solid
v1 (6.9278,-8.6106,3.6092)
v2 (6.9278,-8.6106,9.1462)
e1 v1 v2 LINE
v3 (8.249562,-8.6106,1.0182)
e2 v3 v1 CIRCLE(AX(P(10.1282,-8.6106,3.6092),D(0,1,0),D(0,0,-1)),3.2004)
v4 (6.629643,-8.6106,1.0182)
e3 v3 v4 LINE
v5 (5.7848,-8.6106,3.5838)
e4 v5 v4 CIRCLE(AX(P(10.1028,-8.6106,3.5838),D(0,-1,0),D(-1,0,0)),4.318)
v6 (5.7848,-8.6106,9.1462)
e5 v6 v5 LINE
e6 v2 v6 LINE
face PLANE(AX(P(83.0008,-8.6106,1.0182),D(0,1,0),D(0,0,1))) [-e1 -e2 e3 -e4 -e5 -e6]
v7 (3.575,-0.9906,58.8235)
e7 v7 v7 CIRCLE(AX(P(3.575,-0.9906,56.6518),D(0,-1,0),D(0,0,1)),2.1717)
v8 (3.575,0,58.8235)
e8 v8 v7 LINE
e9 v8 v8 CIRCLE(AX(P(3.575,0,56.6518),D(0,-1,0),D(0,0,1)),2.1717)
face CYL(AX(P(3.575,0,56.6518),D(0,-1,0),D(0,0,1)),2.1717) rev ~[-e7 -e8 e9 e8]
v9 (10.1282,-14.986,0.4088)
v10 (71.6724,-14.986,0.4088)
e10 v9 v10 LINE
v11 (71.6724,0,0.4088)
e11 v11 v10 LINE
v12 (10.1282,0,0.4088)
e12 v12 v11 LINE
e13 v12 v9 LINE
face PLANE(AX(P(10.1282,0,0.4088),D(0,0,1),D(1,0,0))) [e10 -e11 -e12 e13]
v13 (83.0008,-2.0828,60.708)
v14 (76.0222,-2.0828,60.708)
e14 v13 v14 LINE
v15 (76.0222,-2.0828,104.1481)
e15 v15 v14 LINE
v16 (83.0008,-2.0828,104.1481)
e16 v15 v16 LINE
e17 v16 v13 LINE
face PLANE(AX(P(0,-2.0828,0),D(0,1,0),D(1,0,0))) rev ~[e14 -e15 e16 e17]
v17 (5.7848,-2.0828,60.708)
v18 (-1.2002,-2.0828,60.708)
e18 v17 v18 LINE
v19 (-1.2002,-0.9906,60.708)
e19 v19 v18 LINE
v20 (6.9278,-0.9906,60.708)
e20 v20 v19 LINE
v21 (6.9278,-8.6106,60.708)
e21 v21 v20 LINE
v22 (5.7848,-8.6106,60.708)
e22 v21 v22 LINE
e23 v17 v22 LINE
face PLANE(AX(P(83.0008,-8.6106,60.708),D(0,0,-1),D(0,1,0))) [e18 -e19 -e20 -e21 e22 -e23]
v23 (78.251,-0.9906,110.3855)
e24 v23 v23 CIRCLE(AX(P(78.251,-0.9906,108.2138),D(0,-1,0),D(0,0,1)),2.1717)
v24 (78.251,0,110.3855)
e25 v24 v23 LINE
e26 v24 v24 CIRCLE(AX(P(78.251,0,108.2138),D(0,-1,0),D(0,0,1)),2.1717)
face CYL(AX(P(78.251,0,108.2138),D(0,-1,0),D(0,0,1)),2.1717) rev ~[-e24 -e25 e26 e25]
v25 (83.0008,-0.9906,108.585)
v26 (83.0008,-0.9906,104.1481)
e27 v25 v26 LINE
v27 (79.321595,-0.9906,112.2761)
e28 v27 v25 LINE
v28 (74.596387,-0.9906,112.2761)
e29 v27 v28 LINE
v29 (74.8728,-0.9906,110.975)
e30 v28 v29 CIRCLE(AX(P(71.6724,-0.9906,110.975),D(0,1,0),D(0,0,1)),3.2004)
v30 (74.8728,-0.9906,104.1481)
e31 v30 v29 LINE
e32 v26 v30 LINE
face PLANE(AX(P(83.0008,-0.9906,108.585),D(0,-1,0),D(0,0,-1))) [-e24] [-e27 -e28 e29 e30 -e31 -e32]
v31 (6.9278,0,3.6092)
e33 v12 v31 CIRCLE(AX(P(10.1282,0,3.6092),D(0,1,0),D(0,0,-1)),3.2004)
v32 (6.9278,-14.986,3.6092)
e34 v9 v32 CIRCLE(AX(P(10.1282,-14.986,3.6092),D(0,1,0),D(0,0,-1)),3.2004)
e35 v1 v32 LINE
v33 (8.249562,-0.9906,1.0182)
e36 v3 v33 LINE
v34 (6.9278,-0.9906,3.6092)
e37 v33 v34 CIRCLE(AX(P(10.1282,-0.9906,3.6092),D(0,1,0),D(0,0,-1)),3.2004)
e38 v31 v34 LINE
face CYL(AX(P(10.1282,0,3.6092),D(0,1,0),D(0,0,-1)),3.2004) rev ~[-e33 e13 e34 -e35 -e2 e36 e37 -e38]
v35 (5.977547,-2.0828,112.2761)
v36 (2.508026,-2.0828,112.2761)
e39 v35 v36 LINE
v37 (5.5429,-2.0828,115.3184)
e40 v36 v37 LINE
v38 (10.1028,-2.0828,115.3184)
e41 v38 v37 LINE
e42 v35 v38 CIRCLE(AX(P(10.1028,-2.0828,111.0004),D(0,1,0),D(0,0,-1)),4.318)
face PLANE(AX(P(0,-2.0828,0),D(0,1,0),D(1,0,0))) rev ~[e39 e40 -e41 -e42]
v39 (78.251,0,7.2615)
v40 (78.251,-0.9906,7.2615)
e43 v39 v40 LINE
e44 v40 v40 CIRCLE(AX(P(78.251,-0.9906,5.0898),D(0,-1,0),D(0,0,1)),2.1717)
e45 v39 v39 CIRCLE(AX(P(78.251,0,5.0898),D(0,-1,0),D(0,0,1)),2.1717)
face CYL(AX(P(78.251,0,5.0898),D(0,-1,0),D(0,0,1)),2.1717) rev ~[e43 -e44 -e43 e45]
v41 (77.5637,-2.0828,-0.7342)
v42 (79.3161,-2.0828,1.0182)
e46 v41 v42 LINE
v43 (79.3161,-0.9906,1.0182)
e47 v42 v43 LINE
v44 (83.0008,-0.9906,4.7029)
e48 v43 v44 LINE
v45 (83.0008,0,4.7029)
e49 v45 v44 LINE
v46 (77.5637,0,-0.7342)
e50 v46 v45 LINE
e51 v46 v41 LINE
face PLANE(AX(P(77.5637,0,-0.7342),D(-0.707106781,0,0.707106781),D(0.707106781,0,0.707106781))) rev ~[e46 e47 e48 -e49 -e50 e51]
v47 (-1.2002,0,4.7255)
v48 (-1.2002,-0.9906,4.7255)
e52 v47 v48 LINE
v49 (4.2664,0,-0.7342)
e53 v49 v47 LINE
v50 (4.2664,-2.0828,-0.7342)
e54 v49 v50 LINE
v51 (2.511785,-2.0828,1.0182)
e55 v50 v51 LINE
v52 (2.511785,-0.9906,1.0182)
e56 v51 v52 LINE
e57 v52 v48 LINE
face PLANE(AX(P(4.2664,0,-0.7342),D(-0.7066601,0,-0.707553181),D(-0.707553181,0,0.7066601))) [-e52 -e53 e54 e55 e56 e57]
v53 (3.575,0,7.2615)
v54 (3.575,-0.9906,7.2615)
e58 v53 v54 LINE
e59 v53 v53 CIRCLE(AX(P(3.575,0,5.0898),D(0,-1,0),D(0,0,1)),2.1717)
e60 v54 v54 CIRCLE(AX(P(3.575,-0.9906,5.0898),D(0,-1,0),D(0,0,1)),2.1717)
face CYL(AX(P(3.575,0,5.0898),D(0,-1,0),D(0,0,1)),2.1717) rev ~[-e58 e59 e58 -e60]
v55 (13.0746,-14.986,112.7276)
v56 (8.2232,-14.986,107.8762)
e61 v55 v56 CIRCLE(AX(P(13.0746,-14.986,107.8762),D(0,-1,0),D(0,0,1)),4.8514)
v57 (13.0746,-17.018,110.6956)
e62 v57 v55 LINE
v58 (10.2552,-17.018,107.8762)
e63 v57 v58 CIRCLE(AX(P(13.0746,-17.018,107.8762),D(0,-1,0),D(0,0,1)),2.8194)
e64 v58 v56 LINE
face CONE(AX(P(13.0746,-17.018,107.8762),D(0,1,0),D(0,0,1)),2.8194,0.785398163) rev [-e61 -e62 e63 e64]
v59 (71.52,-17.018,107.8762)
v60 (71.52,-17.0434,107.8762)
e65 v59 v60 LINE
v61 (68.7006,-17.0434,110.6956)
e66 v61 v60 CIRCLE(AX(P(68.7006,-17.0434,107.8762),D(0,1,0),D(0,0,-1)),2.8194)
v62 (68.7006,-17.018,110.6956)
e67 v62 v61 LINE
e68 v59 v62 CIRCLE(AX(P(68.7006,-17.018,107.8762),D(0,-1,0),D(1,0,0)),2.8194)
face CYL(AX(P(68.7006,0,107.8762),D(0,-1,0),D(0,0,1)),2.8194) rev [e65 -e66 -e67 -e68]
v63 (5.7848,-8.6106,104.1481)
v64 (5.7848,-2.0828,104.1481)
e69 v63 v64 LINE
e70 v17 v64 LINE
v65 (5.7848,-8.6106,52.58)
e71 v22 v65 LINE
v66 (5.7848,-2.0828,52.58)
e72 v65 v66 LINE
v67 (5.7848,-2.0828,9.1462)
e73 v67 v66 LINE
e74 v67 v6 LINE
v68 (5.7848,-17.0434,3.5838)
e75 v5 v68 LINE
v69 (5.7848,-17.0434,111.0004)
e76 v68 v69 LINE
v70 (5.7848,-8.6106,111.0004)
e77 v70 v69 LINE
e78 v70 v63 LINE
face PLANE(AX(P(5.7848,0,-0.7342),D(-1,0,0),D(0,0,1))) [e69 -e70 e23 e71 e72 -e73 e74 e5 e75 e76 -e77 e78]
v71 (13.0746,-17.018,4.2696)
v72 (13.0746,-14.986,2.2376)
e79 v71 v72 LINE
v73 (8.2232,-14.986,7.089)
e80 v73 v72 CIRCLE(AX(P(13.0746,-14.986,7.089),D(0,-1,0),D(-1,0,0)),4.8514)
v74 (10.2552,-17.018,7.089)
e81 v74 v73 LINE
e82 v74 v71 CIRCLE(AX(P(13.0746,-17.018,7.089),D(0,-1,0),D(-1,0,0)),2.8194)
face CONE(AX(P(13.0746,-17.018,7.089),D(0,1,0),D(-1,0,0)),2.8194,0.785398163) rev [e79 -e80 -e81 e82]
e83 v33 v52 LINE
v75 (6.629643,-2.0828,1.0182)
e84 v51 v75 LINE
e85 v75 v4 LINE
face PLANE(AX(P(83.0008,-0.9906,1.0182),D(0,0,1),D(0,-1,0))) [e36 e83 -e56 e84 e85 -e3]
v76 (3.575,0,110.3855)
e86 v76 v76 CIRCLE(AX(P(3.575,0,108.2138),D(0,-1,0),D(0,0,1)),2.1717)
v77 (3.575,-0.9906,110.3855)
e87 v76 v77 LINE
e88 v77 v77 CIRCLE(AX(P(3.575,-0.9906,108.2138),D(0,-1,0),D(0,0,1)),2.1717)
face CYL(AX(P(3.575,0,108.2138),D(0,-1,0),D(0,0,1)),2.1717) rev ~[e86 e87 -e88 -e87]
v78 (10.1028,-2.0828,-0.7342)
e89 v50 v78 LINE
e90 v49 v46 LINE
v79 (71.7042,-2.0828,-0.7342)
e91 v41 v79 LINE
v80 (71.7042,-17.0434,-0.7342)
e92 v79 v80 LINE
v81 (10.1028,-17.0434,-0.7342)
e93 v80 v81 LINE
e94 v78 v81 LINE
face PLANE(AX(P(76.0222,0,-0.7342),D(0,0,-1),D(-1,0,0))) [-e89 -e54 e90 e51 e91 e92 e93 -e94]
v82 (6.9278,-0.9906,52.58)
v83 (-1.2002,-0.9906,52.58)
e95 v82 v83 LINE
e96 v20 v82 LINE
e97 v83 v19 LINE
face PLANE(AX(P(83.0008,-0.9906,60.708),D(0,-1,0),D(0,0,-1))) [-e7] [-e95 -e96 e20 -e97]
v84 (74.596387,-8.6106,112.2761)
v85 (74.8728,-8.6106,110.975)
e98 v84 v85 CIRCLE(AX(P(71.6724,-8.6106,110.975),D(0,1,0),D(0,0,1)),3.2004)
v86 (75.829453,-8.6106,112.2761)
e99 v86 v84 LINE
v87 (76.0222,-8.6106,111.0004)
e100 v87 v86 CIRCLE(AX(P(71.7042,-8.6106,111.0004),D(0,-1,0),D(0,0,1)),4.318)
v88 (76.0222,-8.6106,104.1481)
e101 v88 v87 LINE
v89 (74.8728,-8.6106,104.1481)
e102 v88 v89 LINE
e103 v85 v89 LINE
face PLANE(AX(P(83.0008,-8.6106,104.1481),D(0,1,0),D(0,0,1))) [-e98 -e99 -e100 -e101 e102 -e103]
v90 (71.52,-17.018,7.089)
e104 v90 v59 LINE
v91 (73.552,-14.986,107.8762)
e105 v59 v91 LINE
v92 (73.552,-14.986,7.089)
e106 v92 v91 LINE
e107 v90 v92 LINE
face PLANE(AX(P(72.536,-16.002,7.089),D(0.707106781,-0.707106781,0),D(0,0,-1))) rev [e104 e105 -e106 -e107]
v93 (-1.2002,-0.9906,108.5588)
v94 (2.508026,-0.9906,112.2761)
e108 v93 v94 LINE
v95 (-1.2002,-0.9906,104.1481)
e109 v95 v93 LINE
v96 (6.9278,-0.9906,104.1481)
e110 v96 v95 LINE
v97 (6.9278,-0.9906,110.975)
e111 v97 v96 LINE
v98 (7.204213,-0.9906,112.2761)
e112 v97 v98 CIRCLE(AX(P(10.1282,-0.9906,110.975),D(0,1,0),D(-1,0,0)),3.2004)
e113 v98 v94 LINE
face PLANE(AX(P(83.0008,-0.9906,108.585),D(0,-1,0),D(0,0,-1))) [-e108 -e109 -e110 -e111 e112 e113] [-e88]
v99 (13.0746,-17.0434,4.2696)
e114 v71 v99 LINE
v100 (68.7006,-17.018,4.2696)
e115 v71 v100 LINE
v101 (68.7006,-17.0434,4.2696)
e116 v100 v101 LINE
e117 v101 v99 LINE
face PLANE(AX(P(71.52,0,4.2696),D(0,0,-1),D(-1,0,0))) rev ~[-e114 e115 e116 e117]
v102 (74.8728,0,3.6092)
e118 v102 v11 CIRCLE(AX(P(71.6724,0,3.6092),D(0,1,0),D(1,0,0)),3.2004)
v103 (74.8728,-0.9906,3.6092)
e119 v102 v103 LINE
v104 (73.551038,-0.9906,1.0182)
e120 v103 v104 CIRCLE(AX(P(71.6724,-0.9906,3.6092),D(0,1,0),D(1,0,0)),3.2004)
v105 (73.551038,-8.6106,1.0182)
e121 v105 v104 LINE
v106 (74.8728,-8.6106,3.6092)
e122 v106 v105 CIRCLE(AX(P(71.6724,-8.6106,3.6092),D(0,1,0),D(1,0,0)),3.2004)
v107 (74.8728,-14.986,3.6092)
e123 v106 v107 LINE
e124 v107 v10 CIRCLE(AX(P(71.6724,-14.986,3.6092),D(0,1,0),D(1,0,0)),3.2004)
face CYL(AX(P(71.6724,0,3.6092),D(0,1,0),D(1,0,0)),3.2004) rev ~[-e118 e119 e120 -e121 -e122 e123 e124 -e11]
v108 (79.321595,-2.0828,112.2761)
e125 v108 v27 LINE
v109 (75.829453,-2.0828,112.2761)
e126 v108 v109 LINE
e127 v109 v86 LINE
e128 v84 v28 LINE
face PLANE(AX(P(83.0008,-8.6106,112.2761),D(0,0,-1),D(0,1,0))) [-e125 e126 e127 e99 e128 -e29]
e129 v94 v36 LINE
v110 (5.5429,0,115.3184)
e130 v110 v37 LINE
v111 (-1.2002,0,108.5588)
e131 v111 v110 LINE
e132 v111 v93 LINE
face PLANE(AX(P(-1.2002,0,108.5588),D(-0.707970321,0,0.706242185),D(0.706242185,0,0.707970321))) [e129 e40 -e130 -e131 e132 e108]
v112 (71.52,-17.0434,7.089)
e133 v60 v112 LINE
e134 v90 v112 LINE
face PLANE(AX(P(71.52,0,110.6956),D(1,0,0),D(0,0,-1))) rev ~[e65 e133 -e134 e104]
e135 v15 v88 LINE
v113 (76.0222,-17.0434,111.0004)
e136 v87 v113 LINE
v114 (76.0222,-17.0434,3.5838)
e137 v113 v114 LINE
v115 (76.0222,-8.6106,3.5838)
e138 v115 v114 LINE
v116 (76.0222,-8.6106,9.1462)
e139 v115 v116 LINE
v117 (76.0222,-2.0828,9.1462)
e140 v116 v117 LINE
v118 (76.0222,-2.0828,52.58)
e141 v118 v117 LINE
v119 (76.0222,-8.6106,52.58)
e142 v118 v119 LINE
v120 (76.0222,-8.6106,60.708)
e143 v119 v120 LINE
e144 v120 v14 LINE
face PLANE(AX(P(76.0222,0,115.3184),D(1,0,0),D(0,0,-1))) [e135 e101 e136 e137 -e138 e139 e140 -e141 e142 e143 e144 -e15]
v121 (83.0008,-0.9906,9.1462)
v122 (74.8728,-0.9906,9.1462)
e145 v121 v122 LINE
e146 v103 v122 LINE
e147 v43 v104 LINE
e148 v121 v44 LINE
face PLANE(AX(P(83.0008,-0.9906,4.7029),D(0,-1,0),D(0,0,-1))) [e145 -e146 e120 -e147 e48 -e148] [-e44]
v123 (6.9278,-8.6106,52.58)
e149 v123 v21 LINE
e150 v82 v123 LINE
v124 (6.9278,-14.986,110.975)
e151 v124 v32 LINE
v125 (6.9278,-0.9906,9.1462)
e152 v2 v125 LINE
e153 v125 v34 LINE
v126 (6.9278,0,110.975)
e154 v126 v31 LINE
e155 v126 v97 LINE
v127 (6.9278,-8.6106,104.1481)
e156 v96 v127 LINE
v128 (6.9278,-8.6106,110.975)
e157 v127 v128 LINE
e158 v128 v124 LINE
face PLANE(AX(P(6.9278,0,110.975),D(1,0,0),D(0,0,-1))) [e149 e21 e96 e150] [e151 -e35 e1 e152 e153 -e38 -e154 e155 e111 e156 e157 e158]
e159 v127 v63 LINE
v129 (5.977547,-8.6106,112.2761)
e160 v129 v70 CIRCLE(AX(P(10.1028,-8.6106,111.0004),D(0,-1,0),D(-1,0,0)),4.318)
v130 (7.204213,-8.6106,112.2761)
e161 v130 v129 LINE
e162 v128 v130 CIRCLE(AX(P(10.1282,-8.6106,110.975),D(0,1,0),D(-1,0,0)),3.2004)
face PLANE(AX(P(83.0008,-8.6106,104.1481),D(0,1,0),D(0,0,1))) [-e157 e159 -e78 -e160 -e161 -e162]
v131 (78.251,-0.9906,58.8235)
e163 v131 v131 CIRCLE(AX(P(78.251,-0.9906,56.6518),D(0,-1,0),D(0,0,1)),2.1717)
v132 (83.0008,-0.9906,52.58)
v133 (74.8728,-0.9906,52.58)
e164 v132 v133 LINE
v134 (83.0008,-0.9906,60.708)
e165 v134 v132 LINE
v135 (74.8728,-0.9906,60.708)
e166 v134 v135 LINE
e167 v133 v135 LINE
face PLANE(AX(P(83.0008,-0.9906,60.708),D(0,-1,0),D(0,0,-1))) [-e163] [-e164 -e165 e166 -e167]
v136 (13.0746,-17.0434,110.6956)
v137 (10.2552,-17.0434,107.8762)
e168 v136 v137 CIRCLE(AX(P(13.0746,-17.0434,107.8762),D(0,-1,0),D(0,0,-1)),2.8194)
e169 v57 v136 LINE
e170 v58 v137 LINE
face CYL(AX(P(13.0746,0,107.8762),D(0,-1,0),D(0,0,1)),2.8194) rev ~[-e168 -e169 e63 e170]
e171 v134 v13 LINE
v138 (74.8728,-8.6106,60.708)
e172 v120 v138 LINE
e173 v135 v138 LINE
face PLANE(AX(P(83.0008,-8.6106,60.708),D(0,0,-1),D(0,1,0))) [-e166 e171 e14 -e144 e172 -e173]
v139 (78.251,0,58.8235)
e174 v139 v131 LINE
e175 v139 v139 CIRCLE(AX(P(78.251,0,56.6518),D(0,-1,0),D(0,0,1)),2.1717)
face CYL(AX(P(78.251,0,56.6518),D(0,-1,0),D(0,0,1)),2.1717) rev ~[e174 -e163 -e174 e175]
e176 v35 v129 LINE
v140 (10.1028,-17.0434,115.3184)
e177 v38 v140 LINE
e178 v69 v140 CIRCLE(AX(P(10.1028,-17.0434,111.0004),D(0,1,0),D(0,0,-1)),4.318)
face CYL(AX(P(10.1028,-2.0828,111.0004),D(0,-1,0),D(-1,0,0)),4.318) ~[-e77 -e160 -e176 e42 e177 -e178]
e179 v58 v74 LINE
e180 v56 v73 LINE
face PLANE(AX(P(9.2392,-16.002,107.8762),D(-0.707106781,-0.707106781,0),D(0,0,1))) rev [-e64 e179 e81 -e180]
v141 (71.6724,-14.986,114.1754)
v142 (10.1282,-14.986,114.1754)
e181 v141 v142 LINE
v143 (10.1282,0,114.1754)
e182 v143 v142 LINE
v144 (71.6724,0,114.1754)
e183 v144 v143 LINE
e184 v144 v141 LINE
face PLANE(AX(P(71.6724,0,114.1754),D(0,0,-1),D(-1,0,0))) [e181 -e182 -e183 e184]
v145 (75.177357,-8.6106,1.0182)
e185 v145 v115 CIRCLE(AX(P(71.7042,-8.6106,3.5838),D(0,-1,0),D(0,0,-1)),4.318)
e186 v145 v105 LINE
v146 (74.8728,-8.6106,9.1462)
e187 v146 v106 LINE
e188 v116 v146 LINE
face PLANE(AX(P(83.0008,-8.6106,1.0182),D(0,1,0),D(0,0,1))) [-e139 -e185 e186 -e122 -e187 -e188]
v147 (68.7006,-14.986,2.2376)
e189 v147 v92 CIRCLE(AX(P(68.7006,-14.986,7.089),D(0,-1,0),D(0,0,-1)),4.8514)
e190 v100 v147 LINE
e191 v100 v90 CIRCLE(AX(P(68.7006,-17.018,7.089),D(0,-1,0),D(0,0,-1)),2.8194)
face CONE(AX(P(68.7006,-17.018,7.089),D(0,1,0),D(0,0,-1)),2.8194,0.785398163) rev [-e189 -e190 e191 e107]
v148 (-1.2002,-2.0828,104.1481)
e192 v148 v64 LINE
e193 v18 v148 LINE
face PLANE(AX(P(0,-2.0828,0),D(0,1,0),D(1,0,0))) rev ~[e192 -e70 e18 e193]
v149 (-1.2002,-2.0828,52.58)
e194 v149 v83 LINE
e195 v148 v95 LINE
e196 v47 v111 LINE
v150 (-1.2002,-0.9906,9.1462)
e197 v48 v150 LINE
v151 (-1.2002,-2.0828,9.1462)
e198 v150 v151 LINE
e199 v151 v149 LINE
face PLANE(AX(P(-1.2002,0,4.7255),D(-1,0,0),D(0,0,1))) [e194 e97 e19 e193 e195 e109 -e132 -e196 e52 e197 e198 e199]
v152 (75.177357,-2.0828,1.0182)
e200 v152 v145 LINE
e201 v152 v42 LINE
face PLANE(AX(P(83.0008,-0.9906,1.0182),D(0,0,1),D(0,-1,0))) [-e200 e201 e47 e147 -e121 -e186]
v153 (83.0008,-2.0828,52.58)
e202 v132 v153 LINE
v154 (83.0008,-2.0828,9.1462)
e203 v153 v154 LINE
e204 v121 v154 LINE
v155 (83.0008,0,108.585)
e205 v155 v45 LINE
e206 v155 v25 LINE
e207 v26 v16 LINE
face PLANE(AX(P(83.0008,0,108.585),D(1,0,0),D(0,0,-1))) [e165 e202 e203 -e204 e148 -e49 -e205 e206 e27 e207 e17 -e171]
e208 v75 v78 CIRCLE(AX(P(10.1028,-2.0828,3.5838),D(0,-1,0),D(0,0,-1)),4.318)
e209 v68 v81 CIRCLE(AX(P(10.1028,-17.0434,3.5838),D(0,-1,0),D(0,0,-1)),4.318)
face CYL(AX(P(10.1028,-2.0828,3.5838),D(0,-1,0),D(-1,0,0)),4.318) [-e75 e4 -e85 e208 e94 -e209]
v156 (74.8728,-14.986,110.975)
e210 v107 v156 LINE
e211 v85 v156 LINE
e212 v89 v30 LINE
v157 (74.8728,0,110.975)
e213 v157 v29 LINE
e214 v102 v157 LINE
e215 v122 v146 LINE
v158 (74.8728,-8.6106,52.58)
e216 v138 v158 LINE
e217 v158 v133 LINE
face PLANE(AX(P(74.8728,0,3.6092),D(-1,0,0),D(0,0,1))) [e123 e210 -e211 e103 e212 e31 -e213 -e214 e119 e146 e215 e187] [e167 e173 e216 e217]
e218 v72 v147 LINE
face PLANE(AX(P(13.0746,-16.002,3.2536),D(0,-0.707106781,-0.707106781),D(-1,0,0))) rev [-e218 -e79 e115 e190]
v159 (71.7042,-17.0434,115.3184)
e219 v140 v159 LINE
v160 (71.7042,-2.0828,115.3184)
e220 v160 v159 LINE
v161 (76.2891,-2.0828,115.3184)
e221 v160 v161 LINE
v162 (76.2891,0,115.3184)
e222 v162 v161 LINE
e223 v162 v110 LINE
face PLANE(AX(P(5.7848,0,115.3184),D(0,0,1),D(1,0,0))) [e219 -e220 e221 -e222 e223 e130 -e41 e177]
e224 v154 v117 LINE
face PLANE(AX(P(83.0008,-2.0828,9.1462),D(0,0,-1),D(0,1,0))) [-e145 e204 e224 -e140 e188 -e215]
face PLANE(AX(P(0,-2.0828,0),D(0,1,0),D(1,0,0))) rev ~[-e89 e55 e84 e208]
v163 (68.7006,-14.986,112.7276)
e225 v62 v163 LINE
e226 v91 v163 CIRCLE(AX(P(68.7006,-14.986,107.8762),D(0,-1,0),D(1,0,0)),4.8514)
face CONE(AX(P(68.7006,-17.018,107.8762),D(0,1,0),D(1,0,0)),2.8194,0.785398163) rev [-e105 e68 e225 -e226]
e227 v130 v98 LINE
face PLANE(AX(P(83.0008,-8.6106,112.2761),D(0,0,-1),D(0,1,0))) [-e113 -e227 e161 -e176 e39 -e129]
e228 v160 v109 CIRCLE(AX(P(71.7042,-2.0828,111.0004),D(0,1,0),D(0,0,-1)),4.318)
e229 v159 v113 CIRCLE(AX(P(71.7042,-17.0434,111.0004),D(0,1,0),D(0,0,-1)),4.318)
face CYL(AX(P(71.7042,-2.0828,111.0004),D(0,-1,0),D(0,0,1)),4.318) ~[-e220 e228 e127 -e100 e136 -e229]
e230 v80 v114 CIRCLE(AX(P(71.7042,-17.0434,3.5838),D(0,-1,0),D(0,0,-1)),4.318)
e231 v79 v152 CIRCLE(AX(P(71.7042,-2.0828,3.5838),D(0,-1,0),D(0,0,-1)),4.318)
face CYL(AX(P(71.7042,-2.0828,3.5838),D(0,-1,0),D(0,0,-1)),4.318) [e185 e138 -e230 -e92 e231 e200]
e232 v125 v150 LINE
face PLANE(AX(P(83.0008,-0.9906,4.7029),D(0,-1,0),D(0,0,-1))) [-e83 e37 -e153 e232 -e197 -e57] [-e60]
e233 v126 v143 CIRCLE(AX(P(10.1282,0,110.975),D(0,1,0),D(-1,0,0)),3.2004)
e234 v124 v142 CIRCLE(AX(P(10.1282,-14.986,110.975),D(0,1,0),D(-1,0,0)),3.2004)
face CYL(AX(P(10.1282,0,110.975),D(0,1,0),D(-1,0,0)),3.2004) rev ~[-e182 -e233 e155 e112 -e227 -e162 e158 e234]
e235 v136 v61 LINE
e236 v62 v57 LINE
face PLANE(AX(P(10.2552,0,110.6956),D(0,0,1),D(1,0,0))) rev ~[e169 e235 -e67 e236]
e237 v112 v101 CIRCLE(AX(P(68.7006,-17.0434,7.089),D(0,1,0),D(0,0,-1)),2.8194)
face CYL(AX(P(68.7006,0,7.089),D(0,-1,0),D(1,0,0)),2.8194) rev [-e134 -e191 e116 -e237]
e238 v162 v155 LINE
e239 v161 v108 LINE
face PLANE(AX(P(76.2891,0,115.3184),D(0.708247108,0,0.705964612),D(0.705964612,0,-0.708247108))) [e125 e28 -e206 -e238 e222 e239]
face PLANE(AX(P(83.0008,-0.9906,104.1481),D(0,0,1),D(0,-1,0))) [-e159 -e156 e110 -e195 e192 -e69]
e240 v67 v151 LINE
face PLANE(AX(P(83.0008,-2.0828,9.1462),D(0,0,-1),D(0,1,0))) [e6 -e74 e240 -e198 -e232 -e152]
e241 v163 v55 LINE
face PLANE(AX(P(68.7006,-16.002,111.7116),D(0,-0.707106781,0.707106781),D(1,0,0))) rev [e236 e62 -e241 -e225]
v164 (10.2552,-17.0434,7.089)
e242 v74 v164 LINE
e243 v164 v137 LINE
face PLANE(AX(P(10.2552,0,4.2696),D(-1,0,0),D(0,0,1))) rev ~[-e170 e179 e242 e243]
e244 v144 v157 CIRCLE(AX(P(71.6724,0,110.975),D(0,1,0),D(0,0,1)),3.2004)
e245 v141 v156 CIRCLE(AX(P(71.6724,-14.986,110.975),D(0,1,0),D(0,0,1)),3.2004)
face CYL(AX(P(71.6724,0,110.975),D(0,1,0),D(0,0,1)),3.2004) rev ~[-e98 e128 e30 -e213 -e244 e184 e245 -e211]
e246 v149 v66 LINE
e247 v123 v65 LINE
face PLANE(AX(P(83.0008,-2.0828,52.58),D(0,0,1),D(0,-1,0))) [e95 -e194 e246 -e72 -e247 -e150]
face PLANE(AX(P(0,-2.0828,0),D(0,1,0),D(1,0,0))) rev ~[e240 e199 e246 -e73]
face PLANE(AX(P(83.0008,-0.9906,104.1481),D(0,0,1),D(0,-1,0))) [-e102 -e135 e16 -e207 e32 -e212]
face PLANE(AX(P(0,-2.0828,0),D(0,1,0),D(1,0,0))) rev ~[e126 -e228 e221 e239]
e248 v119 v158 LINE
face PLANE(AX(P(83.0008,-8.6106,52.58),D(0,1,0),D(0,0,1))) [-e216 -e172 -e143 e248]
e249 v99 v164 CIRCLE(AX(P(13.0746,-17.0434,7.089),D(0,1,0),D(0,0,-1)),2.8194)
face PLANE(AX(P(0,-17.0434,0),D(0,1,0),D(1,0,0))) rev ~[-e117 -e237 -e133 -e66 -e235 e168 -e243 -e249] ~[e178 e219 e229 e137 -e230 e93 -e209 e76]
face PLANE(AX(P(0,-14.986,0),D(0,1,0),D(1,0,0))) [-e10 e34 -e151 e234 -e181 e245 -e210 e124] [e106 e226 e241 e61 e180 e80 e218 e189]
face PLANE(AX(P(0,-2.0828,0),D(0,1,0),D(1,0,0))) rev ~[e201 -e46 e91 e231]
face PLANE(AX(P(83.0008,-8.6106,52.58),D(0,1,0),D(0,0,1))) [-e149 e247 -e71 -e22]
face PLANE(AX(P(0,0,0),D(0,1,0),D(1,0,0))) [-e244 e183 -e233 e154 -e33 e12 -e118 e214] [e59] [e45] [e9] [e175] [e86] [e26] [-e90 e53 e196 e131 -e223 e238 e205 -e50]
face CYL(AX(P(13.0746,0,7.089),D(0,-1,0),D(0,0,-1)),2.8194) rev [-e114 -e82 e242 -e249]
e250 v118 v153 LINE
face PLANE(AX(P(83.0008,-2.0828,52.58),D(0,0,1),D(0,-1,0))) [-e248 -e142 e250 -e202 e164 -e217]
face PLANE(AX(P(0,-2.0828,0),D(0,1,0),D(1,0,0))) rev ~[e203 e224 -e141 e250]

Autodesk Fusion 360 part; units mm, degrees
sketch "Front" plane through (0, 0, 0) normal (0, 1, 0) x (1, 0, 0) in component "2004699A"
  line L0 (-34.4613, 0.7342) -> (100.7673, 0.7342) construction
  line L1 (-34.854, -115.3184) -> (120.0108, -115.3184) construction
  line L2 (39.1093, -14.9122) -> (120.6654, -14.9122) construction
  line L3 (3.575, 24.5274) -> (3.575, -141.9882) construction
  line L4 (78.251, 23.8729) -> (78.251, -119.9956) construction
  line L5 (-16.7886, -108.2138) -> (88.0691, -108.2138) construction
  line L6 (-18.2286, -5.0898) -> (85.3201, -5.0898) construction
  line L7 (-8.6723, -56.6518) -> (96.0546, -56.6518) construction
  line L8 (-24.3813, -113.9722) -> (90.4255, -113.9722) construction
  line L9 (-27.0881, -0.4088) -> (83.5136, -0.4088) construction
  line L10 (10.2552, -130.527) -> (10.2552, 10.1996) construction
  line L11 (71.52, -130.1852) -> (71.52, 12.6775) construction
  line L12 (5.7848, -130.0998) -> (5.7848, 6.3546) construction
  line L13 (83.0008, -137.1267) -> (83.0008, 10.6162) construction
  line L14 (-1.2002, -137.339) -> (-1.2002, 17.644) construction
  line L15 (110.5413, -110.6956) -> (5.7848, -110.6956) construction
  line L16 (110.1974, -4.2696) -> (-2.9547, -4.2696) construction
  line L17 (102.8889, -60.7158) -> (-8.8875, -60.7158) construction
  line L18 (102.459, -52.5878) -> (-11.4669, -52.5878) construction
  line L19 (40.913, -17.1802) -> (40.913, 17.1835) construction
  line L20 (69.6478, 8.6501) -> (89.4046, -11.1067) construction
  line L21 (-5.4342, -8.9542) -> (10.2552, 6.7154) construction
  line L22 (-6.1303, -103.6453) -> (12.6902, -122.4658) construction
  line L23 (73.7302, -117.8806) -> (90.3753, -101.2137) construction
  line L24 (-2.868, -104.1498) -> (87.443, -104.1498) construction
  line L25 (-3.4391, -112.2778) -> (87.0011, -112.2778) construction
  line L26 (-3.1536, -9.1538) -> (86.0732, -9.1538) construction
  line L27 (-3.3677, -1.0258) -> (85.288, -1.0258) construction
  line L28 (10.2552, -110.6956) -> (71.52, -110.6956)
  line L29 (71.52, -110.6956) -> (71.52, -4.2696)
  line L30 (71.52, -4.2696) -> (10.2552, -4.2696)
  line L31 (10.2552, -4.2696) -> (10.2552, -110.6956)
  line L32 (-1.2002, -115.3184) -> (83.0008, -115.3184)
  line L33 (83.0008, -115.3184) -> (83.0008, 0.7342)
  line L34 (83.0008, 0.7342) -> (-1.2002, 0.7342)
  line L35 (-1.2002, 0.7342) -> (-1.2002, -115.3184)
  line L36 (76.0158, -119.9569) -> (76.0158, 9.6762) construction
  line L37 (5.7848, -115.3184) -> (76.0222, -115.3184) construction
  line L38 (76.0222, -115.3184) -> (76.0222, 0.7342) construction
  line L39 (76.0222, 0.7342) -> (5.7848, 0.7342) construction
  line L40 (5.7848, 0.7342) -> (5.7848, -115.3184) construction
  line L41 (76.0222, 0.7342) -> (5.7848, 0.7342)
  line L42 (5.7848, 0.7342) -> (5.7848, -115.3184)
  line L43 (5.7848, -115.3184) -> (76.0222, -115.3184)
  line L44 (76.0222, -115.3184) -> (76.0222, 0.7342)
  line L45 (-1.2002, -108.5588) -> (5.5429, -115.3184)
  line L46 (76.2891, -115.3184) -> (83.0008, -108.585)
  line L47 (77.5637, 0.7342) -> (83.0008, -4.7029)
  line L48 (4.2664, 0.7342) -> (-1.2002, -4.7255)
  point P0 (3.575, -108.2138)
  point P1 (78.251, -108.2138)
  point P2 (78.251, -56.6518)
  point P3 (78.251, -5.0898)
  point P4 (3.575, -5.0898)
  point P5 (3.575, -56.6518)
  dimension "d1" = 1.143
  dimension "d2" = 116.0526
  dimension "d3" = 113.5634
  dimension "d4" = 103.124
  dimension "d5" = 51.562
  dimension "d6" = 74.676
  dimension "d7" = 2.2098
  dimension "d8" = 4.4704
  dimension "d9" = 61.2648
  dimension "d10" = 84.201
  dimension "d11" = 6.985
  dimension "d12" = 106.426
  dimension "d13" = 4.6228
  dimension "d14" = 100.4062
  dimension "d15" = 37.338
  dimension "d16" = 8.128
  dimension "d17" = 4.064
  dimension "d18" = 3.6322
  dimension "d19" = 3.6322
  dimension "d20" = 3.6322
  dimension "d21" = 3.6322
  dimension "d22" = 4.064
  dimension "d23" = 8.128
  dimension "d25" = 4.064
  dimension "d26" = 8.128
  dimension "d27" = 70.231
extrude "Extrude1" add sketch "Front" against normal blind 17.0434 contours L32 L34 L41 L42 L43 L44 in component "2004699A"
extrude "Extrude2" add sketch "Front" against normal blind 2.0828 contours L32 L34 L35 L42 L45 L48 | L32 L33 L34 L44 L46 L47 in component "2004699A"
fillet "Fillet1" radius 4.318 4 edges at (5.7848, -9.5631, -0.7342) (76.0222, -9.5631, -0.7342) (76.0222, -9.5631, 115.3184) (5.7848, -9.5631, 115.3184) in component "2004699A"
fillet "Fillet2" radius 2.8194 4 edges at (71.52, -8.5217, 110.6956) (10.2552, -8.5217, 110.6956) (71.52, -8.5217, 4.2696) (10.2552, -8.5217, 4.2696) in component "2004699A"
hole "Hole1" at (78.251, 0, 108.2138) at (78.251, 0, 56.6518) at (78.251, 0, 5.0898) at (3.575, 0, 5.0898) at (3.575, 0, 56.6518) at (3.575, 0, 108.2138) direction (0, -1, 0) diameter 4.3434 end through all in component "2004699A"
sketch "Sketch3" plane through (0, 0, 0) normal (0, 1, 0) x (1, 0, 0) in component "2004699A"
  line L0 (88.5571, -114.1754) -> (-29.017, -114.1754) construction
  line L1 (6.9278, -119.135) -> (6.9278, -3.6092) construction
  line L2 (74.8728, -110.975) -> (74.8728, 6.1599) construction
  line L3 (95.5329, -0.4088) -> (-26.782, -0.4088) construction
  line L4 (-34.4613, 0.7342) -> (100.7673, 0.7342) construction
  line L5 (5.7848, -130.0998) -> (5.7848, 6.3546) construction
  line L6 (-34.854, -115.3184) -> (120.0108, -115.3184) construction
  line L7 (76.0158, -119.9569) -> (76.0158, 9.6762) construction
  line L8 (71.6724, -114.1754) -> (10.1282, -114.1754)
  line L9 (6.9278, -110.975) -> (6.9278, -0.4088)
  line L10 (10.1282, -0.4088) -> (71.6724, -0.4088)
  line L11 (74.8728, -3.6092) -> (74.8728, -114.1754)
  arc A0 (74.8728, -3.6092) -> (71.6724, -0.4088) centre (71.6724, -3.6092) ccw
  arc A1 (10.1282, -0.4088) -> (6.9278, -3.6092) centre (10.1282, -3.6092) ccw
  arc A2 (71.6724, -114.1754) -> (74.8728, -110.975) centre (71.6724, -110.975) ccw
  arc A3 (6.9278, -110.975) -> (10.1282, -114.1754) centre (10.1282, -110.975) ccw
  dimension "d37" = 1.143
  dimension "d38" = 1.143
  dimension "d39" = 1.143
  dimension "d40" = 1.143
  dimension "d41" = 3.2004
  dimension "d42" = 3.2004
  dimension "d43" = 3.2004
  dimension "d44" = 3.2004
extrude "Extrude3" cut sketch "Sketch3" against normal blind 14.986 in component "2004699A"
chamfer "Chamfer1" distance 2.032 angle 45 8 edges at (40.8876, -14.986, 4.2696) (11.081, -14.986, 5.0954) (10.2552, -14.986, 57.4826) (11.081, -14.986, 109.8698) (40.8876, -14.986, 110.6956) (70.6942, -14.986, 109.8698) (71.52, -14.986, 57.4826) (70.6942, -14.986, 5.0954) in component "2004699A"
sketch "Sketch4" plane through (83.0008, 0, 0) normal (1, 0, 0) x (0, 1, 0) in component "2004699A"
  line L0 (0, 4.7029) -> (0, 108.585)
  line L1 (0, 108.585) -> (-2.0828, 108.585)
  line L2 (-2.0828, 108.585) -> (-2.0828, 4.7029)
  line L3 (-2.0828, 4.7029) -> (0, 4.7029)
  line L4 (-0.9906, 121.8672) -> (-0.9906, -5.2486) construction
  line L5 (0, 108.2121) -> (-3.3976, 108.2121) construction
  line L6 (0, 56.644) -> (-3.817, 56.644) construction
  line L7 (0, 0) -> (-1.1062, 0) construction
  line L8 (1.8872, 112.2761) -> (-9.9271, 112.2761) construction
  line L9 (1.8112, 104.1481) -> (-10.4595, 104.1481) construction
  line L10 (1.71, 60.708) -> (-9.8241, 60.708) construction
  line L11 (2.1656, 52.58) -> (0.9254, 52.58) construction
  line L12 (0.9254, 52.58) -> (-9.5412, 52.58) construction
  line L13 (0, 5.0822) -> (-6.1548, 5.0822) construction
  line L14 (2.1892, 9.1462) -> (-10.0058, 9.1462) construction
  line L15 (2.6197, 1.0182) -> (-10.581, 1.0182) construction
  line L16 (-8.6106, 122.6091) -> (-8.6106, -10.4565) construction
  line L17 (-8.6106, 60.708) -> (-0.9906, 60.708)
  line L18 (-0.9906, 60.708) -> (-0.9906, 52.58)
  line L19 (-0.9906, 52.58) -> (-8.6106, 52.58)
  line L20 (-8.6106, 52.58) -> (-8.6106, 60.708)
  line L21 (-8.6106, 9.1462) -> (-0.9906, 9.1462)
  line L22 (-0.9906, 9.1462) -> (-0.9906, 1.0182)
  line L23 (-0.9906, 1.0182) -> (-8.6106, 1.0182)
  line L24 (-8.6106, 1.0182) -> (-8.6106, 9.1462)
  line L25 (-8.6106, 112.2761) -> (-0.9906, 112.2761)
  line L26 (-0.9906, 112.2761) -> (-0.9906, 104.1481)
  line L27 (-0.9906, 104.1481) -> (-8.6106, 104.1481)
  line L28 (-8.6106, 104.1481) -> (-8.6106, 112.2761)
  point P0 (0, 119.9956)
  dimension "d48" = 0.9906
  dimension "d49" = 4.064
  dimension "d50" = 8.128
  dimension "d51" = 4.064
  dimension "d52" = 8.128
  dimension "d54" = 4.064
  dimension "d55" = 8.128
  dimension "d56" = 7.62
extrude "Extrude4" cut sketch "Sketch4" against normal through all contours L2 L3 L21 L22 L23 L24 | L2 L3 L21 L22 | L1 L2 L26 L27 | L1 L2 L25 L26 L27 L28 | L2 L17 L19 L20 | L2 L17 L18 L19 in component "2004699A"
component "2004699A" placed x (1, 0, 0) y (0, 1, 0) z (0, 0, 1) at (0, 0, 0)
equation "d41 = 0.171 in - 0.045 in"
equation "d42 = 0.171 in - 0.045 in"
equation "d43 = 0.171 in - 0.045 in"
equation "d44 = 0.171 in - 0.045 in"
